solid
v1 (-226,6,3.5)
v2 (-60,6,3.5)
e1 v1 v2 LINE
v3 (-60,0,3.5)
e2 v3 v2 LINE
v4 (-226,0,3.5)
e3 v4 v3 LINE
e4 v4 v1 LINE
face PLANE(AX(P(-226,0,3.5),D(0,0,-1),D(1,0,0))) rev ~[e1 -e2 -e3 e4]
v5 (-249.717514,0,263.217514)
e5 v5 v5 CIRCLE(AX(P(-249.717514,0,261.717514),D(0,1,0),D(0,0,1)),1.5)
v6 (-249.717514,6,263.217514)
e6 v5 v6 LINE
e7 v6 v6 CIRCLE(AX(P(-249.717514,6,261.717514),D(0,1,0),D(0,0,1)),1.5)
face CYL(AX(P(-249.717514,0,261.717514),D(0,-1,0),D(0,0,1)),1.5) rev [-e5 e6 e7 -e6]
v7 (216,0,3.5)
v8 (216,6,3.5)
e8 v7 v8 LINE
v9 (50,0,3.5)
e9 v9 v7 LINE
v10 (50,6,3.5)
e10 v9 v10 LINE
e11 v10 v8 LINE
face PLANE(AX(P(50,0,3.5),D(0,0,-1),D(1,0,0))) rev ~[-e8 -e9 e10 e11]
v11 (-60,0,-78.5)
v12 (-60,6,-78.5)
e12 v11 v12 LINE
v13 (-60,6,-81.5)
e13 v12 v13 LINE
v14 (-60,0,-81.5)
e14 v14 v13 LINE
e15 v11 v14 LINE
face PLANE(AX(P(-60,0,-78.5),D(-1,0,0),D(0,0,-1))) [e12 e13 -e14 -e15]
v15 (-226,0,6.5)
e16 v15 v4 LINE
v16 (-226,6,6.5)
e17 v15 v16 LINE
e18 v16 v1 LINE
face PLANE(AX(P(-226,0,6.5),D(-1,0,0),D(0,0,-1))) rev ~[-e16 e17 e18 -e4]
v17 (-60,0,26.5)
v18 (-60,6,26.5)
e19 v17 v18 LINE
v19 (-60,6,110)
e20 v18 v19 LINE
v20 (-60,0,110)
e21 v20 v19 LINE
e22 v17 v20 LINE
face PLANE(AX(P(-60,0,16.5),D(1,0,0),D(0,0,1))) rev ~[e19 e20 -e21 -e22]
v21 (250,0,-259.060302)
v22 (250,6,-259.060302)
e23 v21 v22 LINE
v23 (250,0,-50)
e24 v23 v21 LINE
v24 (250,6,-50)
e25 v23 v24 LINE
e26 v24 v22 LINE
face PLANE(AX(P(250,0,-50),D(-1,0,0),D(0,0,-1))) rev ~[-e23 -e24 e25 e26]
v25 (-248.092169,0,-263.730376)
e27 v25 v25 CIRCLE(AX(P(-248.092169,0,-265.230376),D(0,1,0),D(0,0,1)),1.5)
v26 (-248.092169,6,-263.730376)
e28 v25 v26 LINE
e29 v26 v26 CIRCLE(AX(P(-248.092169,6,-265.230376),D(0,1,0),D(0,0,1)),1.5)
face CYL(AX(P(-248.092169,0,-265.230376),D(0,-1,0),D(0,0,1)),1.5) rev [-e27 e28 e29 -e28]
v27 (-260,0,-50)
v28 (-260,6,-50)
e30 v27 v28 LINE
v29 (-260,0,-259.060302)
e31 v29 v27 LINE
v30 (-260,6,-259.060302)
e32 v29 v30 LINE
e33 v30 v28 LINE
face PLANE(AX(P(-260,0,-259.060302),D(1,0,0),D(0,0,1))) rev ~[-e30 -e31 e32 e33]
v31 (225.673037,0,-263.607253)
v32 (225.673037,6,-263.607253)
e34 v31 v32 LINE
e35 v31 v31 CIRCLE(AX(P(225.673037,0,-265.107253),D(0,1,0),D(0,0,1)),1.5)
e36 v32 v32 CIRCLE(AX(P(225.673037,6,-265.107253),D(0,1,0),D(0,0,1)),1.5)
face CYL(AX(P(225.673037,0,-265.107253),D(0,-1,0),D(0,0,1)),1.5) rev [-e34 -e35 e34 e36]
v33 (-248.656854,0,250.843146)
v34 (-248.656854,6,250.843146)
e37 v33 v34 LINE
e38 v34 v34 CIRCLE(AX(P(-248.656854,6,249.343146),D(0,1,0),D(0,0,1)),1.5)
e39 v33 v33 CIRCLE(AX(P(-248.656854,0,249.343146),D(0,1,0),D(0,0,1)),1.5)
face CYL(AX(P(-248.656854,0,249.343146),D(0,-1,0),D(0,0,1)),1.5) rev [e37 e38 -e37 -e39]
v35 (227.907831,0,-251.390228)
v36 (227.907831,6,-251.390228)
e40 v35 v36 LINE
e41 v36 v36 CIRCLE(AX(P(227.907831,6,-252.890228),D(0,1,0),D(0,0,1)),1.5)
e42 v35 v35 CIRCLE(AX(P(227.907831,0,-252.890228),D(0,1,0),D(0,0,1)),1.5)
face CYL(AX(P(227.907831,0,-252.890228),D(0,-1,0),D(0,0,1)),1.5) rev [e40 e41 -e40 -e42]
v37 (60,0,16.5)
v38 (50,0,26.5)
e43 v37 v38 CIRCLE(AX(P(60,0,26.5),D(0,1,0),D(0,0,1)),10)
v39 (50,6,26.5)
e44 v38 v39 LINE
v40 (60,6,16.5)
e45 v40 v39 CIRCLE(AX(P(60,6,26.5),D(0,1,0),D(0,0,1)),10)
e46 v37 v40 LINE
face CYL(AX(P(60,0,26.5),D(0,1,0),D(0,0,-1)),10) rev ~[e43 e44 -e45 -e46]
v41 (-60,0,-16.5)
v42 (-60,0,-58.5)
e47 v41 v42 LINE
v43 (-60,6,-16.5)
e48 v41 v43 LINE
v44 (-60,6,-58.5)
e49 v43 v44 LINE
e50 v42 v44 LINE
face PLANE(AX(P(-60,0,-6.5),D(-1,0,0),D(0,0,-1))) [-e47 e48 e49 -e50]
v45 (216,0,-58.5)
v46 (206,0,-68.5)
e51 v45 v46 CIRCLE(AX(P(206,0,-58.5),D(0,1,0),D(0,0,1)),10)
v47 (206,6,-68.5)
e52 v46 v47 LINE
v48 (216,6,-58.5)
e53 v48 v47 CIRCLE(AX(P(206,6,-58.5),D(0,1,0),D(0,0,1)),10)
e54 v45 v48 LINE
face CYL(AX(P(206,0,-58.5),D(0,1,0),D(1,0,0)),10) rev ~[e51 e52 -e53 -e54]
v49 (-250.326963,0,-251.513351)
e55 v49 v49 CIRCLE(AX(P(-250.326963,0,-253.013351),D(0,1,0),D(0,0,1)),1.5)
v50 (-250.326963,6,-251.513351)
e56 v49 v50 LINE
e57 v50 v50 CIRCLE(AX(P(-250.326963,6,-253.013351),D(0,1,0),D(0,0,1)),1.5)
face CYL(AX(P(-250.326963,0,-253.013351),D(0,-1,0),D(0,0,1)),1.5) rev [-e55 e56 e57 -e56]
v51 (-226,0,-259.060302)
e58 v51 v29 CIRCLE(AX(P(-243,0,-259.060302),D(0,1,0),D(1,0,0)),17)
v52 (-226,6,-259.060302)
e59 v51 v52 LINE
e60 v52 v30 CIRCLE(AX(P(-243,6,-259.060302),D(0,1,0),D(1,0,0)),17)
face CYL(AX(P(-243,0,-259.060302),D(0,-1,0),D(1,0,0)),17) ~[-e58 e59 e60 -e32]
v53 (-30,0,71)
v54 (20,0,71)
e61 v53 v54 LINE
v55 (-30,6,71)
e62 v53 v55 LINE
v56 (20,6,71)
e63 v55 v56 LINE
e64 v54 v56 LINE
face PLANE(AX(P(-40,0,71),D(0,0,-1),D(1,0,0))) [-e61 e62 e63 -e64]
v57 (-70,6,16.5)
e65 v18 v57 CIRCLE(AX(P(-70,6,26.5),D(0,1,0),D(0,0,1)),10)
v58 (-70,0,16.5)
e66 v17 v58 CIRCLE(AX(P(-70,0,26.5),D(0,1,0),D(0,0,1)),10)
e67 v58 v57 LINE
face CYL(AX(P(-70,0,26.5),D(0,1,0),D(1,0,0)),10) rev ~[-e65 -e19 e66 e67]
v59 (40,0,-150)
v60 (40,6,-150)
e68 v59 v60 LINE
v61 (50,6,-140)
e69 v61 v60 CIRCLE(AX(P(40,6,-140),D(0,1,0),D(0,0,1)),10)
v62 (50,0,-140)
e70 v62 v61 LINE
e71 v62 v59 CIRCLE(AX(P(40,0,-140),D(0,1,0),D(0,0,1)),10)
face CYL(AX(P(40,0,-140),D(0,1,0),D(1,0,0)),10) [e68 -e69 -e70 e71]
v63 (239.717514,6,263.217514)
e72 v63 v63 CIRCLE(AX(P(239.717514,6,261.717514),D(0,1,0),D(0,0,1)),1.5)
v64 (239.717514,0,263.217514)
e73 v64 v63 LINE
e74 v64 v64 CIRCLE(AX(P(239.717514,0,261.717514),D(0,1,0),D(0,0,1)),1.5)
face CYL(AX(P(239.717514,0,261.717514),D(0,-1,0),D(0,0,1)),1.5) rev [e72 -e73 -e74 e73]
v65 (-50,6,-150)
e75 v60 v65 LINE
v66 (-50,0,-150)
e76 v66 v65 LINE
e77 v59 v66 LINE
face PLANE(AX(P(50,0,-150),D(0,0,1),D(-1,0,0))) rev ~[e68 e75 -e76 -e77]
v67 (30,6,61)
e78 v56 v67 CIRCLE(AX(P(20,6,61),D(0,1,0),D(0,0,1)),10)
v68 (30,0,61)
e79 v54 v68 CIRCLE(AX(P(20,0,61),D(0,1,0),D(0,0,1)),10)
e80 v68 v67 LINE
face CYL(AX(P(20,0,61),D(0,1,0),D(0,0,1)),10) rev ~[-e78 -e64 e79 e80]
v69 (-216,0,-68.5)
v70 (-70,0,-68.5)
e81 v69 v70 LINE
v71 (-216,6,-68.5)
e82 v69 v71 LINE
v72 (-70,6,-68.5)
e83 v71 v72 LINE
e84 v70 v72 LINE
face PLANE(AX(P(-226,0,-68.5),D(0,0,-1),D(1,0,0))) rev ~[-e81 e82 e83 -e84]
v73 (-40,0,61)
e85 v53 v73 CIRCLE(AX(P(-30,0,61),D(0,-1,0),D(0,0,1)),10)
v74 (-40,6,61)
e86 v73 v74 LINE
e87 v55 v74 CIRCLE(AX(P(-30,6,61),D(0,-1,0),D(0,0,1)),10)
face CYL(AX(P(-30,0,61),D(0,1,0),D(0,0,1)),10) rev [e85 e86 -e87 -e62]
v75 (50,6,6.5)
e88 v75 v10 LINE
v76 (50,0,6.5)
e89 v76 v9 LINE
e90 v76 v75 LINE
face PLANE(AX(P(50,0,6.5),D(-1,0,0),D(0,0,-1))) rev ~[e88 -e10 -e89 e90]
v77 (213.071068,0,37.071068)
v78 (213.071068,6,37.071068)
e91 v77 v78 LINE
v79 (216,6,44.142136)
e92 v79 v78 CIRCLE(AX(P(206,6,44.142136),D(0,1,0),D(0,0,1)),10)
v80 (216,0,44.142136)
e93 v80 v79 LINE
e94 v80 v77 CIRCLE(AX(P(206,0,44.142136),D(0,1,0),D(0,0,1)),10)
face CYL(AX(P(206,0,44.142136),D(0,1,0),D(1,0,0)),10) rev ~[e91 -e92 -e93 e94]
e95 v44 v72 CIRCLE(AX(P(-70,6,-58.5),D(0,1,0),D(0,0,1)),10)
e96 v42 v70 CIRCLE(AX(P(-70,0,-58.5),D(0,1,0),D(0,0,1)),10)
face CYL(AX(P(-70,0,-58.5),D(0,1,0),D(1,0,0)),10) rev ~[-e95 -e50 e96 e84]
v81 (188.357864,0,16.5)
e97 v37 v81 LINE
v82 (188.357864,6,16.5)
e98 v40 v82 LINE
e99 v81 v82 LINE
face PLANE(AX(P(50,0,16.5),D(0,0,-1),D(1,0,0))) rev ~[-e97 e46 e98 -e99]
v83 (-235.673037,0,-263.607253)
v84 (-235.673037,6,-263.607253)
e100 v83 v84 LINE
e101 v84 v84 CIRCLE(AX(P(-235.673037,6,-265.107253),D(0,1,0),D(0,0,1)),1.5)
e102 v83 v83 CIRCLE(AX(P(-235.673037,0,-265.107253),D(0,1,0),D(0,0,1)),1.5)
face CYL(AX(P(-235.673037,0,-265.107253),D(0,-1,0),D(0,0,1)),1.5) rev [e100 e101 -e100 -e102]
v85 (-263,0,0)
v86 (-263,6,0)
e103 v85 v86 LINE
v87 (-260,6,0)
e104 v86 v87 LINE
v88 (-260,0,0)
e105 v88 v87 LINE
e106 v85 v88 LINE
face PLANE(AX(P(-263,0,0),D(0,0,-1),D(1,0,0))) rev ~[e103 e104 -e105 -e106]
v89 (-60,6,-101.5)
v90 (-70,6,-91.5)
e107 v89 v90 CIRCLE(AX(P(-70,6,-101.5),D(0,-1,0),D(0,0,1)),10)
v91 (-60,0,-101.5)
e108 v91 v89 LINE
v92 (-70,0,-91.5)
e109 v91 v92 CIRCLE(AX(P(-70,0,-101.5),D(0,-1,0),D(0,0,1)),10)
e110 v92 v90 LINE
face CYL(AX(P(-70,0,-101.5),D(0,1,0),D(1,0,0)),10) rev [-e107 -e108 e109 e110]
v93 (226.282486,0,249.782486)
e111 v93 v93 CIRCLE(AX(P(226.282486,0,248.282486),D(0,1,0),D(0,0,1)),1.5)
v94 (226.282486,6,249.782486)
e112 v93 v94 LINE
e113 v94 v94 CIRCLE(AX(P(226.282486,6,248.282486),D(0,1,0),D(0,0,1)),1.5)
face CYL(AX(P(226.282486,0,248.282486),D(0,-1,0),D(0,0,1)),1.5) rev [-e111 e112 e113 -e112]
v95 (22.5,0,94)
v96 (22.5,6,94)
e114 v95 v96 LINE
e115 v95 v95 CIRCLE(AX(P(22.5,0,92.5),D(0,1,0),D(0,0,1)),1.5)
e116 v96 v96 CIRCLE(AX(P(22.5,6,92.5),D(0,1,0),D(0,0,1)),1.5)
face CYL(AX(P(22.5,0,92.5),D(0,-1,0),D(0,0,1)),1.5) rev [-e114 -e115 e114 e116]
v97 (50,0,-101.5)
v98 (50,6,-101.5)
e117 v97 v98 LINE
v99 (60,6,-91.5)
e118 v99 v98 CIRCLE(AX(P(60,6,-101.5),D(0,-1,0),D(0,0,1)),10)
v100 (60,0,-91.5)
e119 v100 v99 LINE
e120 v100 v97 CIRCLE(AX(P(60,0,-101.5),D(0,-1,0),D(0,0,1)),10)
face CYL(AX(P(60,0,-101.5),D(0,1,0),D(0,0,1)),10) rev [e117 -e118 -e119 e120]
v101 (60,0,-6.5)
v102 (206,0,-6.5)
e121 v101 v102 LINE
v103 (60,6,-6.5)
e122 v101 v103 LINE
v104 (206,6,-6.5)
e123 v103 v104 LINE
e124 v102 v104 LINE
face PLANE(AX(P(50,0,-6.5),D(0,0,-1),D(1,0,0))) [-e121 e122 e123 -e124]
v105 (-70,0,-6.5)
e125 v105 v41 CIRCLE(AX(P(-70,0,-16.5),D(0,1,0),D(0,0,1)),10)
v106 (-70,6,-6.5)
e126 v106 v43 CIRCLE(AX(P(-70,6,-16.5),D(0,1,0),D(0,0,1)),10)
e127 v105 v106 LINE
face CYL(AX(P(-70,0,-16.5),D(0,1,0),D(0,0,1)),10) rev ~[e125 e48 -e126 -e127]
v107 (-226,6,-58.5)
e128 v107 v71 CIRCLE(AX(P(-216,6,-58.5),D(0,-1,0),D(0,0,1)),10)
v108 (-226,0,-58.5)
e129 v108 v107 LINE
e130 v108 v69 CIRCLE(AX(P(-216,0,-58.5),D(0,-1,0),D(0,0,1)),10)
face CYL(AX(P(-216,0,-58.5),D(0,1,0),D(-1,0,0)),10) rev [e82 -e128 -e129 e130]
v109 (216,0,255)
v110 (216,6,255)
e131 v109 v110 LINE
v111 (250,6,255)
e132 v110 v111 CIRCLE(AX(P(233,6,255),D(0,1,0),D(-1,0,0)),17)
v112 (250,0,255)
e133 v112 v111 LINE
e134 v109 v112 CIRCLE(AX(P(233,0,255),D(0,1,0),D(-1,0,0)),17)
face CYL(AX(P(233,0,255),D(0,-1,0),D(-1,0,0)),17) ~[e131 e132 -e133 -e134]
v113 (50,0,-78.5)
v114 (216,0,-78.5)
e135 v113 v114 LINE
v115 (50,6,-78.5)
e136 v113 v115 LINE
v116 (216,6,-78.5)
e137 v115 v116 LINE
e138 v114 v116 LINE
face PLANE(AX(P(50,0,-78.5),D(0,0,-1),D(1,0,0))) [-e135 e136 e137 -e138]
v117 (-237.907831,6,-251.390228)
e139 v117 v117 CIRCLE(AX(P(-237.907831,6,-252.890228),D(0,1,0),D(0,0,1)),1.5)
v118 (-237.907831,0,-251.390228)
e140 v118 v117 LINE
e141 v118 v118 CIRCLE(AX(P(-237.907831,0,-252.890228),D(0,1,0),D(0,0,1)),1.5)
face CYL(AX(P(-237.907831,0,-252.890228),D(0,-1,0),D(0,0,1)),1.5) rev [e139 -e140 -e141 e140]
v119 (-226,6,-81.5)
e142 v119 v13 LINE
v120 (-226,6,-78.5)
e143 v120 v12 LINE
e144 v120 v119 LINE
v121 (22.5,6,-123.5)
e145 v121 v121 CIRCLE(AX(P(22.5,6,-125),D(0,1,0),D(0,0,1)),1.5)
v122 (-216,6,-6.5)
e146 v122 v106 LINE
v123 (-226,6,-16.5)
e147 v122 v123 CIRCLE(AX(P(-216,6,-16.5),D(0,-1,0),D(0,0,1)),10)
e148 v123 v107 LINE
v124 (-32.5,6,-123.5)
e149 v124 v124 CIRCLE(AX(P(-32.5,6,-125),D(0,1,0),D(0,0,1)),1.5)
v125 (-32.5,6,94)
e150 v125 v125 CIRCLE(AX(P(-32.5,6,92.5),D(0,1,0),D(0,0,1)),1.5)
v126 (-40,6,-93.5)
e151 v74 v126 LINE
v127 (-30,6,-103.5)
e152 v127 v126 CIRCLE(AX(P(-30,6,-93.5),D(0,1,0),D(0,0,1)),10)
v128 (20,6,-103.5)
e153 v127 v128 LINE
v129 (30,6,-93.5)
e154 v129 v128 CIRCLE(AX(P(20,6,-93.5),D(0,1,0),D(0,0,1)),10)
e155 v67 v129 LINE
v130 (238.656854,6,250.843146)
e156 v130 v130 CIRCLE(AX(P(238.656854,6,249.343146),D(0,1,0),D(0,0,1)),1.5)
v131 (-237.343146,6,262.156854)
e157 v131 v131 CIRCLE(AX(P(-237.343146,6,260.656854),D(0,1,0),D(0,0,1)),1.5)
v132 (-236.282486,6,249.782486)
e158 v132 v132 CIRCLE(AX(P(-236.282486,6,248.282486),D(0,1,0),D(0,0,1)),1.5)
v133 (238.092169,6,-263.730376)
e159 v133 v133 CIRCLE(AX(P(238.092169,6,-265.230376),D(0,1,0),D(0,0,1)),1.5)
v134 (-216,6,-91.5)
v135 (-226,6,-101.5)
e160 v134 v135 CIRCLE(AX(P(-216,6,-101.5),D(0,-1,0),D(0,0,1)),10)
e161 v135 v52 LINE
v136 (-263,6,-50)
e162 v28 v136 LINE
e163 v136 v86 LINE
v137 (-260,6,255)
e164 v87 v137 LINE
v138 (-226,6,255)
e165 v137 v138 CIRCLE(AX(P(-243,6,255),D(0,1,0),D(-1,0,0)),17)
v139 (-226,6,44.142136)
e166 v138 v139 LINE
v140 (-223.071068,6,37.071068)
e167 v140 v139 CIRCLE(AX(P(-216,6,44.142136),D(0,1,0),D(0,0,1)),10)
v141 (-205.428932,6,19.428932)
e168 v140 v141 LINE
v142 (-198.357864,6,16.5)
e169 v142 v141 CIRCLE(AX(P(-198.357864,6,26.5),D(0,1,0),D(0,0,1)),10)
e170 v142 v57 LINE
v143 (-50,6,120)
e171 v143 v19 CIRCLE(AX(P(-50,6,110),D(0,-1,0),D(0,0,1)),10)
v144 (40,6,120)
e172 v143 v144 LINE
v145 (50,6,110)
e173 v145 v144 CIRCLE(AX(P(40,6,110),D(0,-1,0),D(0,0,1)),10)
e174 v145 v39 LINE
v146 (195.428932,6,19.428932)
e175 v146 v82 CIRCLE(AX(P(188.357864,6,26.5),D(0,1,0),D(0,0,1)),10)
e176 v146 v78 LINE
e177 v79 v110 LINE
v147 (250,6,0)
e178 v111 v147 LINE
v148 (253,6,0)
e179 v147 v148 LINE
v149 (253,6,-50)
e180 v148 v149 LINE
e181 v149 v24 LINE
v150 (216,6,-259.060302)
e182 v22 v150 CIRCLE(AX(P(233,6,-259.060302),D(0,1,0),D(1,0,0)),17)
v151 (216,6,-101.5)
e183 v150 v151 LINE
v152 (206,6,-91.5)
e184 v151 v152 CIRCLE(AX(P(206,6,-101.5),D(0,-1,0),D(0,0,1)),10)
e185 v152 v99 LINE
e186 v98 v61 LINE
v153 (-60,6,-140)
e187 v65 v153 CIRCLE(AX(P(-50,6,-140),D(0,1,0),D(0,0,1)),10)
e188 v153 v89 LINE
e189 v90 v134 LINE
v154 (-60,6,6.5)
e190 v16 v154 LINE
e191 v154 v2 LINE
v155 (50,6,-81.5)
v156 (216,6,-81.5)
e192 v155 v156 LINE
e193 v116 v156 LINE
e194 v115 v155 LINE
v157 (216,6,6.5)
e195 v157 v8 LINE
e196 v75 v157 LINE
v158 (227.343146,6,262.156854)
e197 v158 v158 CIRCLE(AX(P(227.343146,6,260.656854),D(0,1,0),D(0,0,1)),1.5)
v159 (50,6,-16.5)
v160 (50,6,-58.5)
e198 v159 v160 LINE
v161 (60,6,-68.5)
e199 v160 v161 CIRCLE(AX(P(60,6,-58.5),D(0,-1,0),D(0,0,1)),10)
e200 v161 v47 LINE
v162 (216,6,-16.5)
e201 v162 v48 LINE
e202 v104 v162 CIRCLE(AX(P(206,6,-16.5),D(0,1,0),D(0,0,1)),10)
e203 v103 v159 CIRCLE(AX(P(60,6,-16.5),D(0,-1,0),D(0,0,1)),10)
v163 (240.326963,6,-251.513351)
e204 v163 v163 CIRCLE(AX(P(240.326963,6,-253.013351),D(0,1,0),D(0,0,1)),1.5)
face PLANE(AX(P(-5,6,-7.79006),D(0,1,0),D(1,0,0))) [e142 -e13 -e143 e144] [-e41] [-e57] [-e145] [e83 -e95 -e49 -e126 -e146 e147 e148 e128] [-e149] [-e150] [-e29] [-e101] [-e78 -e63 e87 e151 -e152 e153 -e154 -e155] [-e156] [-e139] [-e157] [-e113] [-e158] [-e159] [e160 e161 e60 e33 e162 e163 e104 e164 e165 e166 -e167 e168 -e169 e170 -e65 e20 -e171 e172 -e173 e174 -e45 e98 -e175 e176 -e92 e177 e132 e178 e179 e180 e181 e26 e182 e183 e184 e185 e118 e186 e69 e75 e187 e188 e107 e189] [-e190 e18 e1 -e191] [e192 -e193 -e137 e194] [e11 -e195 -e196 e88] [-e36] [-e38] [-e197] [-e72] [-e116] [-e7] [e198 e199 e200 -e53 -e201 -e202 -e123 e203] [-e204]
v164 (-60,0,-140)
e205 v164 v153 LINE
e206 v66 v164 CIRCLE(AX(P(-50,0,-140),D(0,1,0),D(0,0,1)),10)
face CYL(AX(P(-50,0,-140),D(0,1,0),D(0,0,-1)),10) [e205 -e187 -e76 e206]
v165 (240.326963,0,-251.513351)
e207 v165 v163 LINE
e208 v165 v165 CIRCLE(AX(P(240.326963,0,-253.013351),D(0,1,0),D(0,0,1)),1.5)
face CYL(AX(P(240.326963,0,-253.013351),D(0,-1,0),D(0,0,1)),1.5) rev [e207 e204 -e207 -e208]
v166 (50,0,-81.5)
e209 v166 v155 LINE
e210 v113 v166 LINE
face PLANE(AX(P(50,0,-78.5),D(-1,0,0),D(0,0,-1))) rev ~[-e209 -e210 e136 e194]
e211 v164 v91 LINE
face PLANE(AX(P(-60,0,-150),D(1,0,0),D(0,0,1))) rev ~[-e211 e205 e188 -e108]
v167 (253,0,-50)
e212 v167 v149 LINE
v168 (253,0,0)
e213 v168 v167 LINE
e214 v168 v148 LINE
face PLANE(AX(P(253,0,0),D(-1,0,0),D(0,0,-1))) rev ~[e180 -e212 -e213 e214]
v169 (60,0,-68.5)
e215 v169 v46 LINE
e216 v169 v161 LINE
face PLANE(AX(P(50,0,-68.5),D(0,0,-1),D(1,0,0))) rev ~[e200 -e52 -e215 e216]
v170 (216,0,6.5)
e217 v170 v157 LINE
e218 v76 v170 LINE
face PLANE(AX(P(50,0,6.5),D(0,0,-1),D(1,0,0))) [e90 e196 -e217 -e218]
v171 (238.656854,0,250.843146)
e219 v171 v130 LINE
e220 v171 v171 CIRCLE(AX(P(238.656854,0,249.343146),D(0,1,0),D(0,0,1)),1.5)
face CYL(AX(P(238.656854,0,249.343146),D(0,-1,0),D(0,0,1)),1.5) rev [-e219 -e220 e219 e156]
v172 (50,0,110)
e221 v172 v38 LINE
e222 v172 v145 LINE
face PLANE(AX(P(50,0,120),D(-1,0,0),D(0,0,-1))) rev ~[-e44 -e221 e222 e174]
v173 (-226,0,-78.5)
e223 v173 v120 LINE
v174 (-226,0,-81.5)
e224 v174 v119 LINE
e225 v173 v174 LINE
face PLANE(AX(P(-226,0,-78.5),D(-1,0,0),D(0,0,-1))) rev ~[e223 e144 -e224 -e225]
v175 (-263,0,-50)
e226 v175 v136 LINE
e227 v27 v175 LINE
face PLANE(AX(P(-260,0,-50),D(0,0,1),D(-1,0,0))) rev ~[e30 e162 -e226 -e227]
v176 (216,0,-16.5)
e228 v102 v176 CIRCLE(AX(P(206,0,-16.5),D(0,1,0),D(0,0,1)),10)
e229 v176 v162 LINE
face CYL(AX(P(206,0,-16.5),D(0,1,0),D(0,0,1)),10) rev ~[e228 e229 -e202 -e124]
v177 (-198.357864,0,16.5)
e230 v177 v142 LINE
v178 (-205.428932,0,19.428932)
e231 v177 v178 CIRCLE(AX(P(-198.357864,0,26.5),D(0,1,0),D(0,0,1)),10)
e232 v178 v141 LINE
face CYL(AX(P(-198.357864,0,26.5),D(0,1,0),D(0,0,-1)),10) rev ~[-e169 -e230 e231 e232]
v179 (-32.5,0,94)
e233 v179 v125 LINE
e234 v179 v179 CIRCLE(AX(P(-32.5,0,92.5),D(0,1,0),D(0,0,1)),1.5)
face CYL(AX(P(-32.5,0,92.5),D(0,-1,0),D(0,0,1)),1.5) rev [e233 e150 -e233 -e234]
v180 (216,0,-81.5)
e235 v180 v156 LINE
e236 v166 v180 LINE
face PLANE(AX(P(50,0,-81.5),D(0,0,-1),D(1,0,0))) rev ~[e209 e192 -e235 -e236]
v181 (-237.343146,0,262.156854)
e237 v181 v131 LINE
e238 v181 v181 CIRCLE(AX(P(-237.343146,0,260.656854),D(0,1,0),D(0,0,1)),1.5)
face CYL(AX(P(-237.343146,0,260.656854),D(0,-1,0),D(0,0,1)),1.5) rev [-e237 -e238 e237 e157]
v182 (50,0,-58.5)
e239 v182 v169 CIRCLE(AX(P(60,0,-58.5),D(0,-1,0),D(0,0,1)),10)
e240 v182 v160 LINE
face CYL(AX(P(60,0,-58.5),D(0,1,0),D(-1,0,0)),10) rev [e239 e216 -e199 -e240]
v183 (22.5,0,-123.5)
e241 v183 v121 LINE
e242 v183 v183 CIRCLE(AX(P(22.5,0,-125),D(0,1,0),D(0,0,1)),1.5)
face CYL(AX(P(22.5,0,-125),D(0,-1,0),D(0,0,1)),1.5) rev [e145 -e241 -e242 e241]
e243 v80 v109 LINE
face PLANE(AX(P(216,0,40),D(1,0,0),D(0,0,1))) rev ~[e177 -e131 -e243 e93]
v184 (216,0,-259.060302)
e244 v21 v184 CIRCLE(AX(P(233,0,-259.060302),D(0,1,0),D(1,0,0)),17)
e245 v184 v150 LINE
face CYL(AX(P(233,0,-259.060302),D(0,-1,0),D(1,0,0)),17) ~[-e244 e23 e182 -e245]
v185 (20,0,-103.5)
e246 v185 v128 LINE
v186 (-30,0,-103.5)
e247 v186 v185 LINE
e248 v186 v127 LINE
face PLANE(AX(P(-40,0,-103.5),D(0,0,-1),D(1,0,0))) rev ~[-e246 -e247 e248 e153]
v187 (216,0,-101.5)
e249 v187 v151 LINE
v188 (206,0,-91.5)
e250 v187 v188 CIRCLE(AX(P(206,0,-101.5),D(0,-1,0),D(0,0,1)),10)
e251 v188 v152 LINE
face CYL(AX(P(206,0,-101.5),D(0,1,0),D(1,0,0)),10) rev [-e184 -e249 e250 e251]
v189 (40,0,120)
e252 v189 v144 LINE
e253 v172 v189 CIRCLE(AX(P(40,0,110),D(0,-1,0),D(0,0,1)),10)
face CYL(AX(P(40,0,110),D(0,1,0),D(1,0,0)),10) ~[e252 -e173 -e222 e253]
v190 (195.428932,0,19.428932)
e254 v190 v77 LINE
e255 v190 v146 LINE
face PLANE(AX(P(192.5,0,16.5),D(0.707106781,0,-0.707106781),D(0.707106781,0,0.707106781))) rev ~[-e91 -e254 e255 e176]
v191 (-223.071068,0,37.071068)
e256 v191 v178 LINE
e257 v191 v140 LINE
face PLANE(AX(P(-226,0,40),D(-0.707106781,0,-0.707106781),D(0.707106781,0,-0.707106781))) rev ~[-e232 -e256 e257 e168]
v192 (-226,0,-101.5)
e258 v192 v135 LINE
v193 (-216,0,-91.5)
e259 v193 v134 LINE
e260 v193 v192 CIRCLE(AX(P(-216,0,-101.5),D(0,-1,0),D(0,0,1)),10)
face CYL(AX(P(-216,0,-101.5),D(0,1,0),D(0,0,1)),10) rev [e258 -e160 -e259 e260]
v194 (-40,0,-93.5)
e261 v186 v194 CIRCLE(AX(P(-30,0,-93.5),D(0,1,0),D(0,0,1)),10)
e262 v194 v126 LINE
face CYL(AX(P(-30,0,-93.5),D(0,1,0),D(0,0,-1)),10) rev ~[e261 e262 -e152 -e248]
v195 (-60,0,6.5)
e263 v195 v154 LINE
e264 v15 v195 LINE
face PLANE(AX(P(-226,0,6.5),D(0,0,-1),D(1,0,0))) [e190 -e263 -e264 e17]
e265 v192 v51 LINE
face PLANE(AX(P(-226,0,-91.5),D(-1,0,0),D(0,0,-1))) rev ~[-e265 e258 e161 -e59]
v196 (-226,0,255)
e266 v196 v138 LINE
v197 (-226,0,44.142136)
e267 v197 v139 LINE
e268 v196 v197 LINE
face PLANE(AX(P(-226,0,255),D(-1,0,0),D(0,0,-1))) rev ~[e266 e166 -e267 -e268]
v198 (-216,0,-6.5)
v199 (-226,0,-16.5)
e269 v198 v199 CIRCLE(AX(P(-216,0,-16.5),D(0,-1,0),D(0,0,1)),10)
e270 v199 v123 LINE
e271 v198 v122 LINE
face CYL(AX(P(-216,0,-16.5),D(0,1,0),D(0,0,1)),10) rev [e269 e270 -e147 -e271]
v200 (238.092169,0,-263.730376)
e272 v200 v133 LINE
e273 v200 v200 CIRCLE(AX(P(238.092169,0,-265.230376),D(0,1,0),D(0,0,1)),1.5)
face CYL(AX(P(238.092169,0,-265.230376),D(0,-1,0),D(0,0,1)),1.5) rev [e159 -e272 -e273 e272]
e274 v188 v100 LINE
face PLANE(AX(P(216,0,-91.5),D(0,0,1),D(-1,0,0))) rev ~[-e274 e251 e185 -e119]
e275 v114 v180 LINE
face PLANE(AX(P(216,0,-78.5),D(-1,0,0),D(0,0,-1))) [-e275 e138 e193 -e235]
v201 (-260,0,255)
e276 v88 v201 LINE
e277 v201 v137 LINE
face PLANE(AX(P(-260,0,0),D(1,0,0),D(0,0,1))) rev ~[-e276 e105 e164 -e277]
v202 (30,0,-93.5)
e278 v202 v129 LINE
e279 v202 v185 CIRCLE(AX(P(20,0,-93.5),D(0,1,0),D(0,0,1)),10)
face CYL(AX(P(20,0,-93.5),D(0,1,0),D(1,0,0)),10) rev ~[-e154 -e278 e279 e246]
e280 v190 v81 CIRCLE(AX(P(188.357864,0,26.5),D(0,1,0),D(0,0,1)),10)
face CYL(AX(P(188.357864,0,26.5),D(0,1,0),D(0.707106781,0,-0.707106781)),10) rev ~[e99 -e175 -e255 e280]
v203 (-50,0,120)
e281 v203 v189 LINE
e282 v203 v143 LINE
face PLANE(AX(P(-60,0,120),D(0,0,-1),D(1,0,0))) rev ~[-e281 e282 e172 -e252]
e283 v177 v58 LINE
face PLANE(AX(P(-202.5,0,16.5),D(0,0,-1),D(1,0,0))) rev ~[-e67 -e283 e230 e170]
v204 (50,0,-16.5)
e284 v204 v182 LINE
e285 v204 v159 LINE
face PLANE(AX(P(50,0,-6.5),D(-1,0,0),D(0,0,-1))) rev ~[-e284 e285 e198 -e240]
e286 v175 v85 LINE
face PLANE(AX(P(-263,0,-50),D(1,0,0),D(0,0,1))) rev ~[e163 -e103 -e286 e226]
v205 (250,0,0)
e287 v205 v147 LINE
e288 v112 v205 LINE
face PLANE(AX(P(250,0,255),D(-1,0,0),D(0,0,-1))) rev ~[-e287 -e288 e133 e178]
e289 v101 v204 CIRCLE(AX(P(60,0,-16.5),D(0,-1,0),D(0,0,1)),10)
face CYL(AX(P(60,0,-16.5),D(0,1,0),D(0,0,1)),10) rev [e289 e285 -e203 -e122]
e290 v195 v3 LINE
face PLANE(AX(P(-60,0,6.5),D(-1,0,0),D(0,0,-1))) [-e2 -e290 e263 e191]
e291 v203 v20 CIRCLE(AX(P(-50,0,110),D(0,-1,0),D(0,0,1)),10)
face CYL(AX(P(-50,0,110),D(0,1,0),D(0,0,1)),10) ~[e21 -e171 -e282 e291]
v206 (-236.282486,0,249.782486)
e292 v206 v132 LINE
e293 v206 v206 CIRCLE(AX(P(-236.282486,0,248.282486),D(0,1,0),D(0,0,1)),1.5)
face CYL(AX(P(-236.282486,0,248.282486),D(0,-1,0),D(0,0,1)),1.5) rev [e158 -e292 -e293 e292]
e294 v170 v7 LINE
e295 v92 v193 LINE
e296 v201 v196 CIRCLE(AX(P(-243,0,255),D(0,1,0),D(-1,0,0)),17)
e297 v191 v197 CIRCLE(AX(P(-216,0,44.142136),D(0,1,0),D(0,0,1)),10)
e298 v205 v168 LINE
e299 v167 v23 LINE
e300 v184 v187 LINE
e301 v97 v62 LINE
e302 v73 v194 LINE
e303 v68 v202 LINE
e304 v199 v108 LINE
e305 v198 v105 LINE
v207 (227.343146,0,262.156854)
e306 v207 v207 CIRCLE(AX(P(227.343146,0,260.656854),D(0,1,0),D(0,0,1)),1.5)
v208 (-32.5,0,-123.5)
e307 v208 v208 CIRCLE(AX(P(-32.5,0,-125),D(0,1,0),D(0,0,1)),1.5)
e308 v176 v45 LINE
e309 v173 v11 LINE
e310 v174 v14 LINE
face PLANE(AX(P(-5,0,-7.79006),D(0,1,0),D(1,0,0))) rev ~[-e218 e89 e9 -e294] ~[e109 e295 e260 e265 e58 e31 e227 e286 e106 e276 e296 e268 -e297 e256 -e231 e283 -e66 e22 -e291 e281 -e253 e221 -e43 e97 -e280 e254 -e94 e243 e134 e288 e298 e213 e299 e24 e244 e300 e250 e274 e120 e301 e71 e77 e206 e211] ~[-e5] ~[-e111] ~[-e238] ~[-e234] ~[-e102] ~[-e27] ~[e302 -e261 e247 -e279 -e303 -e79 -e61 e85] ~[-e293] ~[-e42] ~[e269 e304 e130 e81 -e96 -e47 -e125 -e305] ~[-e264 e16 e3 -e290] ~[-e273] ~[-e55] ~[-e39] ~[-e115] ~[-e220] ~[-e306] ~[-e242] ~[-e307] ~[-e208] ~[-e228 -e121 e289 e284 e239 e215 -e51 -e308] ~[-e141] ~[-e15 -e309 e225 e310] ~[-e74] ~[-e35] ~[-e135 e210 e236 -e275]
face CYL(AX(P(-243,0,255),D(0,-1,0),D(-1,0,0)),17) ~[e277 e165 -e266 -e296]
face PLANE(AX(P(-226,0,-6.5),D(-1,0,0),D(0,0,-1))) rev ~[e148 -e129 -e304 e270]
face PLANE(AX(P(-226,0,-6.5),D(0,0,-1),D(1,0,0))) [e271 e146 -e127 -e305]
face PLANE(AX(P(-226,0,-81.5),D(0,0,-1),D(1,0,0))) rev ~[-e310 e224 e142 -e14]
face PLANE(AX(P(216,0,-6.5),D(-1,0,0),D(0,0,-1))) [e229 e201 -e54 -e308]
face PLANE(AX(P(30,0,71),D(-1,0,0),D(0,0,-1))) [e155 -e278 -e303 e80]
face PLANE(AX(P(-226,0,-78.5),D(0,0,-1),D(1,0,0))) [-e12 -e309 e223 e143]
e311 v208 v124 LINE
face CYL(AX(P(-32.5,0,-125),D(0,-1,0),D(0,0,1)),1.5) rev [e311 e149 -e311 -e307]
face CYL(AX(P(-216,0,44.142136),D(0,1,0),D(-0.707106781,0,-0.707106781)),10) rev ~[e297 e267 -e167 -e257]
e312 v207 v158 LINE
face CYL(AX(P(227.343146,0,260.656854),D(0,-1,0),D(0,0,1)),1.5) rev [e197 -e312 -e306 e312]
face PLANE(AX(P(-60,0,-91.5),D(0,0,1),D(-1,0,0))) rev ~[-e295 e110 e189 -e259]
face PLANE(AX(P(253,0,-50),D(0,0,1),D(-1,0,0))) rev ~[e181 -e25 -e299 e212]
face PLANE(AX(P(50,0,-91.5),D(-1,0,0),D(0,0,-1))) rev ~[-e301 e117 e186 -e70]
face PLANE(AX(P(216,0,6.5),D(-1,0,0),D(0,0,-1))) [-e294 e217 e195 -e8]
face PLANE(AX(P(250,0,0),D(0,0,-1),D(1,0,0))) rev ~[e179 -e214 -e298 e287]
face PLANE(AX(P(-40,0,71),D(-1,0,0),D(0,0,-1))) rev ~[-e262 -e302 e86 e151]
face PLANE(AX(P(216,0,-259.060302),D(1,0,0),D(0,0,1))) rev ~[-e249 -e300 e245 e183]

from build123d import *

# Parameters (mm, degrees)
SKETCH1_R           = 1.5
SKETCH1_W           = 166
SKETCH1_H           = 3
SKETCH1_H_2         = 62
SKETCH1_W_2         = 70
SKETCH1_H_3         = 174.5
BOSS_EXTRUDE1_DEPTH = 6
FILLET_1_R          = 10


with BuildPart() as part:
    # Sketch1 → Boss-Extrude1 (new body)
    with BuildSketch(Plane(origin=(0, 0, 0), x_dir=(1, 0, 0), z_dir=(0, 1, 0))):
        with BuildLine():
            Line((216, -40), (216, -255))
            ThreePointArc((216, -255), (233, -272), (250, -255))
            Line((250, -255), (250, 0))
            Line((250, 0), (253, 0))
            Line((253, 0), (253, 50))
            Line((253, 50), (250, 50))
            Line((250, 50), (250, 259.060301809))
            ThreePointArc((250, 259.060301809), (233, 276.060301809), (216, 259.060301809))
            Line((216, 259.060301809), (216, 91.5))
            Line((216, 91.5), (50, 91.5))
            Line((50, 91.5), (50, 150))
            Line((50, 150), (-60, 150))
            Line((-60, 150), (-60, 91.5))
            Line((-60, 91.5), (-226, 91.5))
            Line((-226, 91.5), (-226, 259.060301809))
            ThreePointArc((-226, 259.060301809), (-243, 276.060301809), (-260, 259.060301809))
            Line((-260, 259.060301809), (-260, 50))
            Line((-260, 50), (-263, 50))
            Line((-263, 50), (-263, 0))
            Line((-263, 0), (-260, 0))
            Line((-260, 0), (-260, -255))
            ThreePointArc((-260, -255), (-243, -272), (-226, -255))
            Line((-226, -255), (-226, -40))
            Line((-226, -40), (-202.5, -16.5))
            Line((-202.5, -16.5), (-60, -16.5))
            Line((-60, -16.5), (-60, -120))
            Line((-60, -120), (50, -120))
            Line((50, -120), (50, -16.5))
            Line((50, -16.5), (192.5, -16.5))
            Line((192.5, -16.5), (216, -40))
        make_face()
        with Locations(Location((238.092169369, 265.230375643, 0), (0, 0, 270))):
            Circle(SKETCH1_R, mode=Mode.SUBTRACT)
        with Locations(Location((225.673037322, 265.107252935, 0), (0, 0, 270))):
            Circle(SKETCH1_R, mode=Mode.SUBTRACT)
        with Locations(Location((227.907830631, 252.890227975, 0), (0, 0, 270))):
            Circle(SKETCH1_R, mode=Mode.SUBTRACT)
        with Locations(Location((240.326962678, 253.013350683, 0), (0, 0, 270))):
            Circle(SKETCH1_R, mode=Mode.SUBTRACT)
        with Locations(Location((226.282485579, -248.282485579, 0), (0, 0, 270))):
            Circle(SKETCH1_R, mode=Mode.SUBTRACT)
        with Locations(Location((238.656854249, -249.343145751, 0), (0, 0, 270))):
            Circle(SKETCH1_R, mode=Mode.SUBTRACT)
        with Locations(Location((239.717514421, -261.717514421, 0), (0, 0, 270))):
            Circle(SKETCH1_R, mode=Mode.SUBTRACT)
        with Locations(Location((227.343145751, -260.656854249, 0), (0, 0, 270))):
            Circle(SKETCH1_R, mode=Mode.SUBTRACT)
        with Locations(Location((22.5, 125, 0), (0, 0, 270))):
            Circle(SKETCH1_R, mode=Mode.SUBTRACT)
        with Locations(Location((-32.5, 125, 0), (0, 0, 270))):
            Circle(SKETCH1_R, mode=Mode.SUBTRACT)
        with Locations(Location((-237.343145751, -260.656854249, 0), (0, 0, 270))):
            Circle(SKETCH1_R, mode=Mode.SUBTRACT)
        with Locations(Location((-249.717514421, -261.717514421, 0), (0, 0, 270))):
            Circle(SKETCH1_R, mode=Mode.SUBTRACT)
        with Locations(Location((-248.656854249, -249.343145751, 0), (0, 0, 270))):
            Circle(SKETCH1_R, mode=Mode.SUBTRACT)
        with Locations(Location((-236.282485579, -248.282485579, 0), (0, 0, 270))):
            Circle(SKETCH1_R, mode=Mode.SUBTRACT)
        with Locations(Location((-250.326962678, 253.013350683, 0), (0, 0, 270))):
            Circle(SKETCH1_R, mode=Mode.SUBTRACT)
        with Locations(Location((-237.907830631, 252.890227975, 0), (0, 0, 270))):
            Circle(SKETCH1_R, mode=Mode.SUBTRACT)
        with Locations(Location((-235.673037322, 265.107252935, 0), (0, 0, 270))):
            Circle(SKETCH1_R, mode=Mode.SUBTRACT)
        with Locations(Location((-248.092169369, 265.230375643, 0), (0, 0, 270))):
            Circle(SKETCH1_R, mode=Mode.SUBTRACT)
        with Locations(Location((22.5, -92.5, 0), (0, 0, 270))):
            Circle(SKETCH1_R, mode=Mode.SUBTRACT)
        with Locations(Location((-32.5, -92.5, 0), (0, 0, 270))):
            Circle(SKETCH1_R, mode=Mode.SUBTRACT)
        with Locations((133, 80)):
            Rectangle(SKETCH1_W, SKETCH1_H, mode=Mode.SUBTRACT)
        with Locations((133, 37.5)):
            Rectangle(SKETCH1_W, SKETCH1_H_2, mode=Mode.SUBTRACT)
        with Locations((-143, 37.5)):
            Rectangle(SKETCH1_W, SKETCH1_H_2, mode=Mode.SUBTRACT)
        with Locations((133, -5)):
            Rectangle(SKETCH1_W, SKETCH1_H, mode=Mode.SUBTRACT)
        with Locations((-143, -5)):
            Rectangle(SKETCH1_W, SKETCH1_H, mode=Mode.SUBTRACT)
        with Locations((-143, 80)):
            Rectangle(SKETCH1_W, SKETCH1_H, mode=Mode.SUBTRACT)
        with Locations((-5, 16.25)):
            Rectangle(SKETCH1_W_2, SKETCH1_H_3, mode=Mode.SUBTRACT)
    extrude(amount=BOSS_EXTRUDE1_DEPTH)

    # Скругление1
    fillet_1_edges = [part.edges().sort_by_distance(p)[0] for p in [
        (30, 3, 71),
        (30, 3, -103.5),
        (-40, 3, -103.5),
        (-40, 3, 71),
        (216, 3, -6.5),
        (216, 3, -68.5),
        (50, 3, -68.5),
        (50, 3, -6.5),
        (-226, 3, -68.5),
        (-226, 3, -6.5),
        (-60, 3, -6.5),
        (-60, 3, -68.5),
        (-226, 3, -91.5),
        (-60, 3, -91.5),
        (-60, 3, -150),
        (50, 3, -150),
        (50, 3, -91.5),
        (216, 3, -91.5),
        (216, 3, 40),
        (192.5, 3, 16.5),
        (50, 3, 16.5),
        (50, 3, 120),
        (-60, 3, 120),
        (-60, 3, 16.5),
        (-202.5, 3, 16.5),
        (-226, 3, 40),
    ]]
    fillet(fillet_1_edges, radius=FILLET_1_R)


solid = part.part
